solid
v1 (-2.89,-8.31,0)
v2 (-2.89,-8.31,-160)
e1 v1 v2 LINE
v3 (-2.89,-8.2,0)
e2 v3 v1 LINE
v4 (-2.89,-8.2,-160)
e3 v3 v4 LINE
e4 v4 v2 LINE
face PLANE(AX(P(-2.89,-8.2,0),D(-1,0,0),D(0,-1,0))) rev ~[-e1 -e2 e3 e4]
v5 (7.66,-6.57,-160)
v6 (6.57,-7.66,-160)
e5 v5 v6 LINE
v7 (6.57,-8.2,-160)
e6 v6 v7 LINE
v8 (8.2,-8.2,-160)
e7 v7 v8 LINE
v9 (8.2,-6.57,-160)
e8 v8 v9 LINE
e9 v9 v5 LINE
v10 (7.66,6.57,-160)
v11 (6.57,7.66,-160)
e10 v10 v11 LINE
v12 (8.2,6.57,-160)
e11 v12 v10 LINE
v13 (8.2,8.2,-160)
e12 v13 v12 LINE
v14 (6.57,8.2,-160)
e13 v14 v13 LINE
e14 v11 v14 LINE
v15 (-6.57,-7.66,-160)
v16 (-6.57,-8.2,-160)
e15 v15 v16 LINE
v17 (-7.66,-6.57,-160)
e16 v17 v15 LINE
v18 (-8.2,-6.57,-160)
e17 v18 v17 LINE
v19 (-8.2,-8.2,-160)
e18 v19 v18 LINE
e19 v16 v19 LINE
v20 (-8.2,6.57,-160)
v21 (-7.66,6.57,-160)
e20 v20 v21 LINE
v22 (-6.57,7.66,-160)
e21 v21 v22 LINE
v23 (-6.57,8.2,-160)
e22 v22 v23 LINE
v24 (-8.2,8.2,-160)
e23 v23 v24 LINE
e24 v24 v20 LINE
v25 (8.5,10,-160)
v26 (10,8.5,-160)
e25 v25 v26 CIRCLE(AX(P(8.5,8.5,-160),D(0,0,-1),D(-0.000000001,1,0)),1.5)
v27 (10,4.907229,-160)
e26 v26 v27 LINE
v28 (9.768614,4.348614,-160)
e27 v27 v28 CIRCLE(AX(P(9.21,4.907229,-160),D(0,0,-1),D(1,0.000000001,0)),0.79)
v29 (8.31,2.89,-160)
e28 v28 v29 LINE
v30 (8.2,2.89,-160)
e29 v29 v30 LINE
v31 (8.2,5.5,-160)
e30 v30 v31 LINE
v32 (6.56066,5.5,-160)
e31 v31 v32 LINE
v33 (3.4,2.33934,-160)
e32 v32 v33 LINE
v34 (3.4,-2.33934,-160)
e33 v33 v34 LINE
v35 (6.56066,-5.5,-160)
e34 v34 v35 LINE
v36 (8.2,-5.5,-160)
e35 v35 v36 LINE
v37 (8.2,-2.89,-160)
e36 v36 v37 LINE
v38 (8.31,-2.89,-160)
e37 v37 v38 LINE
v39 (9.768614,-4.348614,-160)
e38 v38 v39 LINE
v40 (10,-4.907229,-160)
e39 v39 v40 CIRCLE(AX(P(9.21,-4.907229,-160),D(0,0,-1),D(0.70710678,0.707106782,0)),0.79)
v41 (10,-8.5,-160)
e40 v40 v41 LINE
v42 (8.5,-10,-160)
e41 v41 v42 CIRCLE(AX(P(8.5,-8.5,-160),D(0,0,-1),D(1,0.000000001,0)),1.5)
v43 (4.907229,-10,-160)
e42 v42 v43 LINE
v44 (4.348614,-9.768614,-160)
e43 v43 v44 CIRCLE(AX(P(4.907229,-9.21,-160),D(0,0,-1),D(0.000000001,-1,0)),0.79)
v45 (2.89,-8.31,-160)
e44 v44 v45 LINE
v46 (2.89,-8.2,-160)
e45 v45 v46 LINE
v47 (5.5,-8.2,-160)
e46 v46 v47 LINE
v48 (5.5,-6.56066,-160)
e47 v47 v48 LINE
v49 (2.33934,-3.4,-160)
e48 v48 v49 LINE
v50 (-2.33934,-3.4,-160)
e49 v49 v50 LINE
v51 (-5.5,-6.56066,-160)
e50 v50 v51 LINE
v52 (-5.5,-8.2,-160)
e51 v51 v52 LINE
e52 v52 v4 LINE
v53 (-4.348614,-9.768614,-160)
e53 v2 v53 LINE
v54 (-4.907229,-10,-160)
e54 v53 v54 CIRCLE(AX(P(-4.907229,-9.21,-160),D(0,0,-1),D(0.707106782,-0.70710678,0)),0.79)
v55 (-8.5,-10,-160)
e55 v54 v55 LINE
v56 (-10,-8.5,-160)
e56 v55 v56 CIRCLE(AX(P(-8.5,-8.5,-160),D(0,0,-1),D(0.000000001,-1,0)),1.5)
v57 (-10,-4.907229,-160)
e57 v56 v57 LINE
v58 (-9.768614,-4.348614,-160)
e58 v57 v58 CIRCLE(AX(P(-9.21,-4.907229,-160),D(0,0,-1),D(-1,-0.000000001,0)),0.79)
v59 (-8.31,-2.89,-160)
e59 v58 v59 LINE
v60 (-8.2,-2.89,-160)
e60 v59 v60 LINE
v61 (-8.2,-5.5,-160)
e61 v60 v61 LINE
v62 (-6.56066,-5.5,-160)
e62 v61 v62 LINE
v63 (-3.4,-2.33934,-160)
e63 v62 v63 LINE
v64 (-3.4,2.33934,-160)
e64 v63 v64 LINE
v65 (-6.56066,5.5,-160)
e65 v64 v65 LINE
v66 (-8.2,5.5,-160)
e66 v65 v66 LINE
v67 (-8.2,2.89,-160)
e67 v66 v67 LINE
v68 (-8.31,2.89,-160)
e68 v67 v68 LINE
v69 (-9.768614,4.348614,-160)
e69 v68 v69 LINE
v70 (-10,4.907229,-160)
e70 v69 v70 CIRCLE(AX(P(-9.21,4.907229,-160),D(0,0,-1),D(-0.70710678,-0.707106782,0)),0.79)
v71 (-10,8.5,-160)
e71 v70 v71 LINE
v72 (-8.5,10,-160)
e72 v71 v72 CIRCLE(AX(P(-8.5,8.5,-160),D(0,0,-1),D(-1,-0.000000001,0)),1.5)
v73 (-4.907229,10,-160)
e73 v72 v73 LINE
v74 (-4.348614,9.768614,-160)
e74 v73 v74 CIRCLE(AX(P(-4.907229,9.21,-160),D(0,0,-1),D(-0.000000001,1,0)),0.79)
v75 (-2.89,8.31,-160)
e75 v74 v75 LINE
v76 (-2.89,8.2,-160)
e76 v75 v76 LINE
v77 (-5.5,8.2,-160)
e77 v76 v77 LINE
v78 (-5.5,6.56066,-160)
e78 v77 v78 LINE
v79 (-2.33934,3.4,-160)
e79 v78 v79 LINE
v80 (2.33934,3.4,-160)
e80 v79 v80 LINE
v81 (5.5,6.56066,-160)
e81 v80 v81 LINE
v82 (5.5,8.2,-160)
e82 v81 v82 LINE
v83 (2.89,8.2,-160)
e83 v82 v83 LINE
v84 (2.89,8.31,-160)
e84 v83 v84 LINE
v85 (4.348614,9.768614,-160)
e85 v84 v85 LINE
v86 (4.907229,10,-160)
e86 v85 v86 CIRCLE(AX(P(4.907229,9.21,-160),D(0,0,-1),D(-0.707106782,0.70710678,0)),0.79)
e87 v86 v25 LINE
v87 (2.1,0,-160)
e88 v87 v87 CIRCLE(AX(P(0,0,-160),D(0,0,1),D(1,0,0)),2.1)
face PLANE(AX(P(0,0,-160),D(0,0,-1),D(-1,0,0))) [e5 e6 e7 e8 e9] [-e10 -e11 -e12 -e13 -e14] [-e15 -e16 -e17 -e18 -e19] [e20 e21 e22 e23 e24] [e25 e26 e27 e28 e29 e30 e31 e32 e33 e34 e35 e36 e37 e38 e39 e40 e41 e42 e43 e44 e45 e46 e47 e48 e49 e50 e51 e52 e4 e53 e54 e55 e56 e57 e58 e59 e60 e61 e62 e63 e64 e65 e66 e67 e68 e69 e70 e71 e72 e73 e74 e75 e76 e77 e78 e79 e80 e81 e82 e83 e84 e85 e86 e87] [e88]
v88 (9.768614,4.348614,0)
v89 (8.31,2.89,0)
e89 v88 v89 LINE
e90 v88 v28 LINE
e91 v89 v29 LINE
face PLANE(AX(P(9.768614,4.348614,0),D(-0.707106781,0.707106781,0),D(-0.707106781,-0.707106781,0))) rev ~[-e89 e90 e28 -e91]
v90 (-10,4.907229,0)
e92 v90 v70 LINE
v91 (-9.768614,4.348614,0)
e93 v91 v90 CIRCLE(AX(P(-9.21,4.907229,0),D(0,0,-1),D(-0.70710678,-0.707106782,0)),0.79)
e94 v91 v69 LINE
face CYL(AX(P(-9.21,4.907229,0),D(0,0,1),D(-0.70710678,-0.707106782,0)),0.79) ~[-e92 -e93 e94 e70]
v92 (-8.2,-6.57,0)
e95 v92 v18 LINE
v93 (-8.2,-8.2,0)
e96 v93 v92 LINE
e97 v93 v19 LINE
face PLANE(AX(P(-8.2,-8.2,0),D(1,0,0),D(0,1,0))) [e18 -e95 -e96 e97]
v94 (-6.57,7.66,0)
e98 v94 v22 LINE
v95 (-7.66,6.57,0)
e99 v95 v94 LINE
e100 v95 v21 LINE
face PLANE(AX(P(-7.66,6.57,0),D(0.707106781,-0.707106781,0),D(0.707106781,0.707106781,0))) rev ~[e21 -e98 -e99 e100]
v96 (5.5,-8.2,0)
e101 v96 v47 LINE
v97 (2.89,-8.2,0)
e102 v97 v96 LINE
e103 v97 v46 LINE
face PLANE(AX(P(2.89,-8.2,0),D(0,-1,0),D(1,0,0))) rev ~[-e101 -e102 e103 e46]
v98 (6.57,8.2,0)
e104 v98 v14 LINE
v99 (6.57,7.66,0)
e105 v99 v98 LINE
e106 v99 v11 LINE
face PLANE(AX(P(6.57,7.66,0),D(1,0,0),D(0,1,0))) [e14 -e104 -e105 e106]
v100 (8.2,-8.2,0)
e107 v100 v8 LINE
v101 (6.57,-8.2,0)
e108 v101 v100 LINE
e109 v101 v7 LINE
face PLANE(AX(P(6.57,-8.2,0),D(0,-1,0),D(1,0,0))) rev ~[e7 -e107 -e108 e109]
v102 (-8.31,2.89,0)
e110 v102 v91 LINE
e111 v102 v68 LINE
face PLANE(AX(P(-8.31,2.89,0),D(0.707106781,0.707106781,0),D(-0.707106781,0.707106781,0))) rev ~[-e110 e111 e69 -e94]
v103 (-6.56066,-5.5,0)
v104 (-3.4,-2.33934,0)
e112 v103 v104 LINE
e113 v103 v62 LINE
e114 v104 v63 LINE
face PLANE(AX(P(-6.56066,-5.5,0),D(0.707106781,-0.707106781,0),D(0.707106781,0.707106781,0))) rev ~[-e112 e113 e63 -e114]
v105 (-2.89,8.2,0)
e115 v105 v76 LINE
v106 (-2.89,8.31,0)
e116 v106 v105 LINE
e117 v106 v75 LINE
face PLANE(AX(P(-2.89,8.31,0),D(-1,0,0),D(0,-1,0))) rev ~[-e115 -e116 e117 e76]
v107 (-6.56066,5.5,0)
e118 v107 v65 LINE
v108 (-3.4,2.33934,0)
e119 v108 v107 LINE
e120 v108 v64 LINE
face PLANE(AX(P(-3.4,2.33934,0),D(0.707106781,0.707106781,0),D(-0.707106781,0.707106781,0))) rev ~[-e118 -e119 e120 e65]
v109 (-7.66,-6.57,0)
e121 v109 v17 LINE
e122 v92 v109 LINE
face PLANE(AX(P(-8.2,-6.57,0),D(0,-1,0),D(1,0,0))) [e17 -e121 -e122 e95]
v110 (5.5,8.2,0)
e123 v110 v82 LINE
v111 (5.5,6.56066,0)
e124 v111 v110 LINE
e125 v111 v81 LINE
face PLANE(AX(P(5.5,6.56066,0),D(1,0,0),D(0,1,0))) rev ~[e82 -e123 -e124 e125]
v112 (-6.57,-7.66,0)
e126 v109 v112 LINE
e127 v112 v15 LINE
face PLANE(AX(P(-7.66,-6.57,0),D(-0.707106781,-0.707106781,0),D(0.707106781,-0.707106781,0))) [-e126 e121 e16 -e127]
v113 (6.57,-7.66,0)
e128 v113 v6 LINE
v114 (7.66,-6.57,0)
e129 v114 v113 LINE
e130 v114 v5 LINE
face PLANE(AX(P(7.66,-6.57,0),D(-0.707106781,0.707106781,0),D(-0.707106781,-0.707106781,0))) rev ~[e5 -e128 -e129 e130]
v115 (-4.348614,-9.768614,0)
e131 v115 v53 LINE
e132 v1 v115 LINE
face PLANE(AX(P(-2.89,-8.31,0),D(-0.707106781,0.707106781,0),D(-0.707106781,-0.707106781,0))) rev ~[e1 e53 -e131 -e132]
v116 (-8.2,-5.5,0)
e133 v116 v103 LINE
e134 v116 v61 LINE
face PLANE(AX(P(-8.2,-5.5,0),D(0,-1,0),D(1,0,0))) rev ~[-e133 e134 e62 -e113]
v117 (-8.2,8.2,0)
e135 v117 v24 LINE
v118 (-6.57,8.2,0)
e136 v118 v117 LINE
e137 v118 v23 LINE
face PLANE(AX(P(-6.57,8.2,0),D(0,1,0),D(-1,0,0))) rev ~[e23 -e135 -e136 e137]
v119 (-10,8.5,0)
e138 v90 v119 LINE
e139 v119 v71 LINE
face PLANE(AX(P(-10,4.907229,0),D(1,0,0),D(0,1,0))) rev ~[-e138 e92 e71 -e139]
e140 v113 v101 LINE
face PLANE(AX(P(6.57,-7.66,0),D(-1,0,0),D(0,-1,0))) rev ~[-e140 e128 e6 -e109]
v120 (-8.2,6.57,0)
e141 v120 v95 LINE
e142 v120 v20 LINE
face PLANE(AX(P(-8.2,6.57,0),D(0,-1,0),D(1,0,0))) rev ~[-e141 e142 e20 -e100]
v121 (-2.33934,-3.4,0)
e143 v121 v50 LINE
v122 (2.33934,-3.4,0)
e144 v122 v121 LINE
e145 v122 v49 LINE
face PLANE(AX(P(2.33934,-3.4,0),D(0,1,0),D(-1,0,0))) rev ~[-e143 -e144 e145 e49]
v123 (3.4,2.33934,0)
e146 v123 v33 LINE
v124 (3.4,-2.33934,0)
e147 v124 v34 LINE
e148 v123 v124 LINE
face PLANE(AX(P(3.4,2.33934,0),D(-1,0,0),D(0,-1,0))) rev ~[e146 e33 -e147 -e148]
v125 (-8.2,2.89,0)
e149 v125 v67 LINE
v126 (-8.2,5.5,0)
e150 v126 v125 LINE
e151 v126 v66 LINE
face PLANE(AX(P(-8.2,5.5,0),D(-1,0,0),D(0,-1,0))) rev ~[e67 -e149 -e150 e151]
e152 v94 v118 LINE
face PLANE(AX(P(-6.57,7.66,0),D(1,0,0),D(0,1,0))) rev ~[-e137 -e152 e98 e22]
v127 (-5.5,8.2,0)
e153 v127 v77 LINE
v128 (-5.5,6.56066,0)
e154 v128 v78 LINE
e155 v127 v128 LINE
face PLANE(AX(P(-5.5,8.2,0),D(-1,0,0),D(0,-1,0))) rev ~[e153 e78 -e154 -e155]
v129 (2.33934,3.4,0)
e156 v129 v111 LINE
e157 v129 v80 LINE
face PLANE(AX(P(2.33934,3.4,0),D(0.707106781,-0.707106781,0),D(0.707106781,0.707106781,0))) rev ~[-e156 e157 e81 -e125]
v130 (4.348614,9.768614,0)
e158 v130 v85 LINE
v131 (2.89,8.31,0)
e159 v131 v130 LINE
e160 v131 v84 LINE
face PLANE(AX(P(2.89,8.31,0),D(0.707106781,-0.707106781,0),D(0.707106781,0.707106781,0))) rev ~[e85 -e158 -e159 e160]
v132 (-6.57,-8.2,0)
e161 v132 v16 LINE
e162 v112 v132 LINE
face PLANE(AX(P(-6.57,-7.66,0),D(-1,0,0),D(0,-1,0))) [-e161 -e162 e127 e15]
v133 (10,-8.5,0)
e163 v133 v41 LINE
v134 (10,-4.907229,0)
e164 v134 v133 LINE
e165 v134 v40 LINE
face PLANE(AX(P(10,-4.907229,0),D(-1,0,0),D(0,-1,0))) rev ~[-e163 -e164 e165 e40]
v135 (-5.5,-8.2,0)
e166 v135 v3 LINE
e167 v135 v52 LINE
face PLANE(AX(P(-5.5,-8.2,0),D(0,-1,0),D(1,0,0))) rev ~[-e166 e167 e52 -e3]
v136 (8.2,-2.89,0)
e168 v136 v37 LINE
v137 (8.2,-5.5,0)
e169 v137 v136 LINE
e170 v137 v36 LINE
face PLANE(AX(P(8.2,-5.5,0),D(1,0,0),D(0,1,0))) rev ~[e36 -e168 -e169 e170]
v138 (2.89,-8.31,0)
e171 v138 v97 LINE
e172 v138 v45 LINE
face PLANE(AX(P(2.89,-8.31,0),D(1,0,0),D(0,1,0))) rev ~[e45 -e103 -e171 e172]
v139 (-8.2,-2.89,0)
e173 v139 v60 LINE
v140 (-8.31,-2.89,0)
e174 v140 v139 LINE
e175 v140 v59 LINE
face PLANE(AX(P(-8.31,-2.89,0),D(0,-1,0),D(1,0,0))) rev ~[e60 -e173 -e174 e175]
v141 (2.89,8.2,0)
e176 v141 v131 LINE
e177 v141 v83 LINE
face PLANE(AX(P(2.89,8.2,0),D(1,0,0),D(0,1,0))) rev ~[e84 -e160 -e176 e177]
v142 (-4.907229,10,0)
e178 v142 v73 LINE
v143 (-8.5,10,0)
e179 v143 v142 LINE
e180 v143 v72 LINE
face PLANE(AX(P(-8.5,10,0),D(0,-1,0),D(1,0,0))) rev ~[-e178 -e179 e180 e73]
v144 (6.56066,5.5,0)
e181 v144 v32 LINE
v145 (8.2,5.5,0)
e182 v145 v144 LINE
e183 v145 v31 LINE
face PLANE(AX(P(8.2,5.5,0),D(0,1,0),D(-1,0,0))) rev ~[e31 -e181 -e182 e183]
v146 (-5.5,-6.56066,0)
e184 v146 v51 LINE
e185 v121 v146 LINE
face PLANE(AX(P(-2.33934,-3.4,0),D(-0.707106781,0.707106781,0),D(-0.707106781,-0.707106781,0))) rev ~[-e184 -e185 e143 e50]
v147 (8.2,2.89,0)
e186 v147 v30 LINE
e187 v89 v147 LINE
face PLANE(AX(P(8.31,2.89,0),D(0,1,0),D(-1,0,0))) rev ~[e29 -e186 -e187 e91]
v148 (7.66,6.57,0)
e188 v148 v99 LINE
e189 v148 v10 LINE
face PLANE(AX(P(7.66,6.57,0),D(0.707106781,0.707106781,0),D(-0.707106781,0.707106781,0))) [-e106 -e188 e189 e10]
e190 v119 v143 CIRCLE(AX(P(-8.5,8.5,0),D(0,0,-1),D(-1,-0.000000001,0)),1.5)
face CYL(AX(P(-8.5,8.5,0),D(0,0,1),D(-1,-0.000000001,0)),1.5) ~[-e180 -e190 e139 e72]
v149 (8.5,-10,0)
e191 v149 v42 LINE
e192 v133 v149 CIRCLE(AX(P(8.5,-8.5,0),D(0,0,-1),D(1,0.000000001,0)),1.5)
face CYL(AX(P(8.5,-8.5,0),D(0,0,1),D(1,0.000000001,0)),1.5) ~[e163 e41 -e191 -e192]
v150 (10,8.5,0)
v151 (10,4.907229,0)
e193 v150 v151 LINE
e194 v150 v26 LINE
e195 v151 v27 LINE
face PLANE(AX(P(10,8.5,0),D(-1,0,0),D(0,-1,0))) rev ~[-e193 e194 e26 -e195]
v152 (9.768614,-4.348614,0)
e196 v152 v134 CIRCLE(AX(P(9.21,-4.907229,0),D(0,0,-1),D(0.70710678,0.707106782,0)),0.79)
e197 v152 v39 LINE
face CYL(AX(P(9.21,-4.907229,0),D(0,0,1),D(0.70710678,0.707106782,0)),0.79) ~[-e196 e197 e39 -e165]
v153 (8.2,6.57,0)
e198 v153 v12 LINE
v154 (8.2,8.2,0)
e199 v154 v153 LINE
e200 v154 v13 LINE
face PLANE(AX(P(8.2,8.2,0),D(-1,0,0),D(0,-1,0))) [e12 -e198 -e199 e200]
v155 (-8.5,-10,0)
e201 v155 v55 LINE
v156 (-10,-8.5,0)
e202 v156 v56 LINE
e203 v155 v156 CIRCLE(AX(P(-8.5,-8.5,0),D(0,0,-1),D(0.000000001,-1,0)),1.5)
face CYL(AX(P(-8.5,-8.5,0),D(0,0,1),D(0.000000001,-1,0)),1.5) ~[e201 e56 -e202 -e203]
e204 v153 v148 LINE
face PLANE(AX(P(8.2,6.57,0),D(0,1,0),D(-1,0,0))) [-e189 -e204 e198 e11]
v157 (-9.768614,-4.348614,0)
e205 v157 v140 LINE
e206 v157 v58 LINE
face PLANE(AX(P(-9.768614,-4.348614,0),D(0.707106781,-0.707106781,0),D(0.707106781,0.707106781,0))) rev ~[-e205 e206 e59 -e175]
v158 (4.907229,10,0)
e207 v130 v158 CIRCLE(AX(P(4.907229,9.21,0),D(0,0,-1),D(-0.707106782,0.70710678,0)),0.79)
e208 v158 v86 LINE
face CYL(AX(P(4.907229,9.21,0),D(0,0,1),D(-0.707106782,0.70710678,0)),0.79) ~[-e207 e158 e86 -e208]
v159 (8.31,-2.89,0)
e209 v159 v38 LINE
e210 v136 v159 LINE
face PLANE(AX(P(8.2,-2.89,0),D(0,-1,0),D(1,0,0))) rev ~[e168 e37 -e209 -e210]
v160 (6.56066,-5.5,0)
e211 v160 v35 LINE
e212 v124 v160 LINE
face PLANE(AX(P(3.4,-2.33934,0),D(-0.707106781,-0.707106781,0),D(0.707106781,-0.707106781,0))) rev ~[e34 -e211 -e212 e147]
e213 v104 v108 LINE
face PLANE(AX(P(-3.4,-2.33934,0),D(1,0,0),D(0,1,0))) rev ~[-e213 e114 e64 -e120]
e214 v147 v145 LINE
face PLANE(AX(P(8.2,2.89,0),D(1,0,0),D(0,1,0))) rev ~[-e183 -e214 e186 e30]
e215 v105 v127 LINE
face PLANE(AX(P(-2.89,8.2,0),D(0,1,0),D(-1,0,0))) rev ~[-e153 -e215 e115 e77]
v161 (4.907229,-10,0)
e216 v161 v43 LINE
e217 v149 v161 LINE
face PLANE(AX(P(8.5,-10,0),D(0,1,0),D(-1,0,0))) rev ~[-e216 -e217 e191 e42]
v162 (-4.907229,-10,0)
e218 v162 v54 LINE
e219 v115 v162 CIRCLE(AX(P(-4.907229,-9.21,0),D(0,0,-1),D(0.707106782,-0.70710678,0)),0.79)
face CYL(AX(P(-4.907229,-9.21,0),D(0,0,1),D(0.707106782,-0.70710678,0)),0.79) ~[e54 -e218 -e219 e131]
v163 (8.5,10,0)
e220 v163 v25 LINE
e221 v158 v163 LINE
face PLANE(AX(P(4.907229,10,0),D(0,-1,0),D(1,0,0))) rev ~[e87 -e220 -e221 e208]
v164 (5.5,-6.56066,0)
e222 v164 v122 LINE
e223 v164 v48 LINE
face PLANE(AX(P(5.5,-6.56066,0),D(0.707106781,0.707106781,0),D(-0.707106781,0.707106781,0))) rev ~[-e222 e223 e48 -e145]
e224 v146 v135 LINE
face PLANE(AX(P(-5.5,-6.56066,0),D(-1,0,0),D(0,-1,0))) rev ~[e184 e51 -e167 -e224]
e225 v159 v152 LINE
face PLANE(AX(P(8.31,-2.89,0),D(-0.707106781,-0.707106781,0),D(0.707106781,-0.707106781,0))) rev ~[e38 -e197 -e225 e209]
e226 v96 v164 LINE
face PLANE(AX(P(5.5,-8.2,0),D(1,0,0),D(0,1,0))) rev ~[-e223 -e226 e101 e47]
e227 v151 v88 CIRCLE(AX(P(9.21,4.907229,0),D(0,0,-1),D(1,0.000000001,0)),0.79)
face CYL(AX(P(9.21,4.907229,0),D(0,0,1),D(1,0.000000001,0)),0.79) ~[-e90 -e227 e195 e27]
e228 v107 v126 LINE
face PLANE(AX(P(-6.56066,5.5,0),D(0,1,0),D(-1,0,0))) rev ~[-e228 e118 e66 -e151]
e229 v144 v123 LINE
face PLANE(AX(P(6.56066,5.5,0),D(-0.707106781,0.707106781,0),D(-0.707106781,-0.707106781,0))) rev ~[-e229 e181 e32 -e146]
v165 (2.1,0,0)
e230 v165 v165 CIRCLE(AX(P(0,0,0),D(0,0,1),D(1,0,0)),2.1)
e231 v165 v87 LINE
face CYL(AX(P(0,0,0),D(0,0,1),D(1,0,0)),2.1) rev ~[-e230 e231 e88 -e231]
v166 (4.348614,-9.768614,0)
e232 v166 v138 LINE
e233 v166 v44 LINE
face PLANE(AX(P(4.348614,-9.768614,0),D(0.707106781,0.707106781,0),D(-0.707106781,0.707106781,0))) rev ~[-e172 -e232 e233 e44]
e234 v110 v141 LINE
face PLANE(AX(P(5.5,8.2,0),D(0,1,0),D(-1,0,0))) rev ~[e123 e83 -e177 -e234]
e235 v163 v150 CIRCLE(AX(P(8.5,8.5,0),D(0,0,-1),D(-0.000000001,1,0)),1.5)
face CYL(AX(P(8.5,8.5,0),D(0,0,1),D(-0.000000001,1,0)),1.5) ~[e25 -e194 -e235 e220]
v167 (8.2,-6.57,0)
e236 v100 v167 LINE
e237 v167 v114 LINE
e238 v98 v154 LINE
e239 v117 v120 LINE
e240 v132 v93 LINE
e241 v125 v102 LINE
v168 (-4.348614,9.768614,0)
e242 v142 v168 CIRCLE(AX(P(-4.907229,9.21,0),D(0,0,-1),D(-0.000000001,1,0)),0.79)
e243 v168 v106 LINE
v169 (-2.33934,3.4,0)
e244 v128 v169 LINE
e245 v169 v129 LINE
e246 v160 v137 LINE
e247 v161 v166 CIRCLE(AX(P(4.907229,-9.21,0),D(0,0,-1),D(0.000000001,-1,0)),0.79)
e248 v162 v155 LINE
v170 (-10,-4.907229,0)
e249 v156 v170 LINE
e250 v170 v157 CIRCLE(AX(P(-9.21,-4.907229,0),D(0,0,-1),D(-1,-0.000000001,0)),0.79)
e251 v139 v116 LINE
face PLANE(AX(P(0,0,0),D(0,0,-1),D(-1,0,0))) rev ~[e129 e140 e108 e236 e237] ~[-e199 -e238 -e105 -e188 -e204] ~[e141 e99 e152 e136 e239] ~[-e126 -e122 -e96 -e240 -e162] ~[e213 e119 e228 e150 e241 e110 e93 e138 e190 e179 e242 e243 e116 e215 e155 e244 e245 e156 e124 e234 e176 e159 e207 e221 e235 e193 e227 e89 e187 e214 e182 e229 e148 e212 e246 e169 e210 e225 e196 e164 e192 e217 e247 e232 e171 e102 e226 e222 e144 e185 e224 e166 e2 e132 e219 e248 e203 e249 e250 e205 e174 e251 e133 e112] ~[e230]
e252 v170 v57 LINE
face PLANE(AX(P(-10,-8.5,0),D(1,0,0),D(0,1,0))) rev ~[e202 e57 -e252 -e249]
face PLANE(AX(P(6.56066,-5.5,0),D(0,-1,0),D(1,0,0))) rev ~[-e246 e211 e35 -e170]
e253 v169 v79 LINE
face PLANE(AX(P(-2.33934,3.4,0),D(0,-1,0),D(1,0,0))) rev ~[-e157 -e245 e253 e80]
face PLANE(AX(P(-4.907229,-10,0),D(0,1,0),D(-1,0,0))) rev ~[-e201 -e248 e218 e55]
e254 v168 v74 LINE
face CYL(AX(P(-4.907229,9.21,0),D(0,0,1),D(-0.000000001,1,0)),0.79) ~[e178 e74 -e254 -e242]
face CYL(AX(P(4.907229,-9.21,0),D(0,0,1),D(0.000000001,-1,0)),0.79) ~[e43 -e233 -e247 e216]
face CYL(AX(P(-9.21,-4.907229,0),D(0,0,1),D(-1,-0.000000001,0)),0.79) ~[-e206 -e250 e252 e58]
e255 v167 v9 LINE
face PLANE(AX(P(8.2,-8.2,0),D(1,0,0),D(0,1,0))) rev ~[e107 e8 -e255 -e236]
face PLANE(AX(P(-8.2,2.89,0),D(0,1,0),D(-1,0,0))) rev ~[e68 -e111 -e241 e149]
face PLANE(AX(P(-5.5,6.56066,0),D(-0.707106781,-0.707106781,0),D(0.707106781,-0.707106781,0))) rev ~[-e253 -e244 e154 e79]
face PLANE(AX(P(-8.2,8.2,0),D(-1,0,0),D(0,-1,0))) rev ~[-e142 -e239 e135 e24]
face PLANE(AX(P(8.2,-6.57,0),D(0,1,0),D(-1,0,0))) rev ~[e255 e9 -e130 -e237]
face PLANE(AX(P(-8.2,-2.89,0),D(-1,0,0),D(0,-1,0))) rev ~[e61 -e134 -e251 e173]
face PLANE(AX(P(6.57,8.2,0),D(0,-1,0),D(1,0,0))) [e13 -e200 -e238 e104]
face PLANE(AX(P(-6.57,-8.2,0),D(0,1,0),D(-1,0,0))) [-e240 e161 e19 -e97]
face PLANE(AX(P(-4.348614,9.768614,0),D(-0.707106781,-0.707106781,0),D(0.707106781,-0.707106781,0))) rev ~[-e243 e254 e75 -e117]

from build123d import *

# Parameters (mm, degrees)
SKETCH6_R           = 2.1
BOSS_EXTRUDE1_DEPTH = 160


with BuildPart() as part:
    # Sketch6 → Boss-Extrude1 (new body)
    with BuildSketch(Plane.XY):
        with BuildLine():
            Line((-3.4, -2.339339828), (-3.4, 2.339339828))
            Line((-3.4, 2.339339828), (-6.560660172, 5.5))
            Line((-6.560660172, 5.5), (-8.2, 5.5))
            Line((-8.2, 5.5), (-8.2, 2.89))
            Line((-8.2, 2.89), (-8.31, 2.89))
            Line((-8.31, 2.89), (-9.768614357, 4.348614357))
            ThreePointArc((-9.768614357, 4.348614357), (-9.939864831, 4.604908803), (-10, 4.907228714))
            Line((-10, 4.907228714), (-10, 8.5))
            ThreePointArc((-10, 8.5), (-9.560660172, 9.560660172), (-8.5, 10))
            Line((-8.5, 10), (-4.907228714, 10))
            ThreePointArc((-4.907228714, 10), (-4.604908803, 9.939864831), (-4.348614357, 9.768614357))
            Line((-4.348614357, 9.768614357), (-2.89, 8.31))
            Line((-2.89, 8.31), (-2.89, 8.2))
            Line((-2.89, 8.2), (-5.5, 8.2))
            Line((-5.5, 8.2), (-5.5, 6.560660172))
            Line((-5.5, 6.560660172), (-2.339339828, 3.4))
            Line((-2.339339828, 3.4), (2.339339828, 3.4))
            Line((2.339339828, 3.4), (5.5, 6.560660172))
            Line((5.5, 6.560660172), (5.5, 8.2))
            Line((5.5, 8.2), (2.89, 8.2))
            Line((2.89, 8.2), (2.89, 8.31))
            Line((2.89, 8.31), (4.348614357, 9.768614357))
            ThreePointArc((4.348614357, 9.768614357), (4.604908803, 9.939864831), (4.907228714, 10))
            Line((4.907228714, 10), (8.5, 10))
            ThreePointArc((8.5, 10), (9.560660172, 9.560660172), (10, 8.5))
            Line((10, 8.5), (10, 4.907228714))
            ThreePointArc((10, 4.907228714), (9.939864831, 4.604908803), (9.768614357, 4.348614357))
            Line((9.768614357, 4.348614357), (8.31, 2.89))
            Line((8.31, 2.89), (8.2, 2.89))
            Line((8.2, 2.89), (8.2, 5.5))
            Line((8.2, 5.5), (6.560660172, 5.5))
            Line((6.560660172, 5.5), (3.4, 2.339339828))
            Line((3.4, 2.339339828), (3.4, -2.339339828))
            Line((3.4, -2.339339828), (6.560660172, -5.5))
            Line((6.560660172, -5.5), (8.2, -5.5))
            Line((8.2, -5.5), (8.2, -2.89))
            Line((8.2, -2.89), (8.31, -2.89))
            Line((8.31, -2.89), (9.768614357, -4.348614357))
            ThreePointArc((9.768614357, -4.348614357), (9.939864831, -4.604908803), (10, -4.907228714))
            Line((10, -4.907228714), (10, -8.5))
            ThreePointArc((10, -8.5), (9.560660172, -9.560660172), (8.5, -10))
            Line((8.5, -10), (4.907228714, -10))
            ThreePointArc((4.907228714, -10), (4.604908803, -9.939864831), (4.348614357, -9.768614357))
            Line((4.348614357, -9.768614357), (2.89, -8.31))
            Line((2.89, -8.31), (2.89, -8.2))
            Line((2.89, -8.2), (5.5, -8.2))
            Line((5.5, -8.2), (5.5, -6.560660172))
            Line((5.5, -6.560660172), (2.339339828, -3.4))
            Line((2.339339828, -3.4), (-2.339339828, -3.4))
            Line((-2.339339828, -3.4), (-5.5, -6.560660172))
            Line((-5.5, -6.560660172), (-5.5, -8.2))
            Line((-5.5, -8.2), (-2.89, -8.2))
            Line((-2.89, -8.2), (-2.89, -8.31))
            Line((-2.89, -8.31), (-4.348614357, -9.768614357))
            ThreePointArc((-4.348614357, -9.768614357), (-4.604908803, -9.939864831), (-4.907228714, -10))
            Line((-4.907228714, -10), (-8.5, -10))
            ThreePointArc((-8.5, -10), (-9.560660172, -9.560660172), (-10, -8.5))
            Line((-10, -8.5), (-10, -4.907228714))
            ThreePointArc((-10, -4.907228714), (-9.939864831, -4.604908803), (-9.768614357, -4.348614357))
            Line((-9.768614357, -4.348614357), (-8.31, -2.89))
            Line((-8.31, -2.89), (-8.2, -2.89))
            Line((-8.2, -2.89), (-8.2, -5.5))
            Line((-8.2, -5.5), (-6.560660172, -5.5))
            Line((-6.560660172, -5.5), (-3.4, -2.339339828))
        make_face()
        Circle(SKETCH6_R, mode=Mode.SUBTRACT)
        Polygon((-7.66, 6.57), (-6.57, 7.66), (-6.57, 8.2), (-8.2, 8.2), (-8.2, 6.57), align=None, mode=Mode.SUBTRACT)
        Polygon((8.2, 6.57), (7.66, 6.57), (6.57, 7.66), (6.57, 8.2), (8.2, 8.2), align=None, mode=Mode.SUBTRACT)
        Polygon((7.66, -6.57), (6.57, -7.66), (6.57, -8.2), (8.2, -8.2), (8.2, -6.57), align=None, mode=Mode.SUBTRACT)
        Polygon((-8.2, -6.57), (-7.66, -6.57), (-6.57, -7.66), (-6.57, -8.2), (-8.2, -8.2), align=None, mode=Mode.SUBTRACT)
    extrude(amount=-BOSS_EXTRUDE1_DEPTH)


solid = part.part
